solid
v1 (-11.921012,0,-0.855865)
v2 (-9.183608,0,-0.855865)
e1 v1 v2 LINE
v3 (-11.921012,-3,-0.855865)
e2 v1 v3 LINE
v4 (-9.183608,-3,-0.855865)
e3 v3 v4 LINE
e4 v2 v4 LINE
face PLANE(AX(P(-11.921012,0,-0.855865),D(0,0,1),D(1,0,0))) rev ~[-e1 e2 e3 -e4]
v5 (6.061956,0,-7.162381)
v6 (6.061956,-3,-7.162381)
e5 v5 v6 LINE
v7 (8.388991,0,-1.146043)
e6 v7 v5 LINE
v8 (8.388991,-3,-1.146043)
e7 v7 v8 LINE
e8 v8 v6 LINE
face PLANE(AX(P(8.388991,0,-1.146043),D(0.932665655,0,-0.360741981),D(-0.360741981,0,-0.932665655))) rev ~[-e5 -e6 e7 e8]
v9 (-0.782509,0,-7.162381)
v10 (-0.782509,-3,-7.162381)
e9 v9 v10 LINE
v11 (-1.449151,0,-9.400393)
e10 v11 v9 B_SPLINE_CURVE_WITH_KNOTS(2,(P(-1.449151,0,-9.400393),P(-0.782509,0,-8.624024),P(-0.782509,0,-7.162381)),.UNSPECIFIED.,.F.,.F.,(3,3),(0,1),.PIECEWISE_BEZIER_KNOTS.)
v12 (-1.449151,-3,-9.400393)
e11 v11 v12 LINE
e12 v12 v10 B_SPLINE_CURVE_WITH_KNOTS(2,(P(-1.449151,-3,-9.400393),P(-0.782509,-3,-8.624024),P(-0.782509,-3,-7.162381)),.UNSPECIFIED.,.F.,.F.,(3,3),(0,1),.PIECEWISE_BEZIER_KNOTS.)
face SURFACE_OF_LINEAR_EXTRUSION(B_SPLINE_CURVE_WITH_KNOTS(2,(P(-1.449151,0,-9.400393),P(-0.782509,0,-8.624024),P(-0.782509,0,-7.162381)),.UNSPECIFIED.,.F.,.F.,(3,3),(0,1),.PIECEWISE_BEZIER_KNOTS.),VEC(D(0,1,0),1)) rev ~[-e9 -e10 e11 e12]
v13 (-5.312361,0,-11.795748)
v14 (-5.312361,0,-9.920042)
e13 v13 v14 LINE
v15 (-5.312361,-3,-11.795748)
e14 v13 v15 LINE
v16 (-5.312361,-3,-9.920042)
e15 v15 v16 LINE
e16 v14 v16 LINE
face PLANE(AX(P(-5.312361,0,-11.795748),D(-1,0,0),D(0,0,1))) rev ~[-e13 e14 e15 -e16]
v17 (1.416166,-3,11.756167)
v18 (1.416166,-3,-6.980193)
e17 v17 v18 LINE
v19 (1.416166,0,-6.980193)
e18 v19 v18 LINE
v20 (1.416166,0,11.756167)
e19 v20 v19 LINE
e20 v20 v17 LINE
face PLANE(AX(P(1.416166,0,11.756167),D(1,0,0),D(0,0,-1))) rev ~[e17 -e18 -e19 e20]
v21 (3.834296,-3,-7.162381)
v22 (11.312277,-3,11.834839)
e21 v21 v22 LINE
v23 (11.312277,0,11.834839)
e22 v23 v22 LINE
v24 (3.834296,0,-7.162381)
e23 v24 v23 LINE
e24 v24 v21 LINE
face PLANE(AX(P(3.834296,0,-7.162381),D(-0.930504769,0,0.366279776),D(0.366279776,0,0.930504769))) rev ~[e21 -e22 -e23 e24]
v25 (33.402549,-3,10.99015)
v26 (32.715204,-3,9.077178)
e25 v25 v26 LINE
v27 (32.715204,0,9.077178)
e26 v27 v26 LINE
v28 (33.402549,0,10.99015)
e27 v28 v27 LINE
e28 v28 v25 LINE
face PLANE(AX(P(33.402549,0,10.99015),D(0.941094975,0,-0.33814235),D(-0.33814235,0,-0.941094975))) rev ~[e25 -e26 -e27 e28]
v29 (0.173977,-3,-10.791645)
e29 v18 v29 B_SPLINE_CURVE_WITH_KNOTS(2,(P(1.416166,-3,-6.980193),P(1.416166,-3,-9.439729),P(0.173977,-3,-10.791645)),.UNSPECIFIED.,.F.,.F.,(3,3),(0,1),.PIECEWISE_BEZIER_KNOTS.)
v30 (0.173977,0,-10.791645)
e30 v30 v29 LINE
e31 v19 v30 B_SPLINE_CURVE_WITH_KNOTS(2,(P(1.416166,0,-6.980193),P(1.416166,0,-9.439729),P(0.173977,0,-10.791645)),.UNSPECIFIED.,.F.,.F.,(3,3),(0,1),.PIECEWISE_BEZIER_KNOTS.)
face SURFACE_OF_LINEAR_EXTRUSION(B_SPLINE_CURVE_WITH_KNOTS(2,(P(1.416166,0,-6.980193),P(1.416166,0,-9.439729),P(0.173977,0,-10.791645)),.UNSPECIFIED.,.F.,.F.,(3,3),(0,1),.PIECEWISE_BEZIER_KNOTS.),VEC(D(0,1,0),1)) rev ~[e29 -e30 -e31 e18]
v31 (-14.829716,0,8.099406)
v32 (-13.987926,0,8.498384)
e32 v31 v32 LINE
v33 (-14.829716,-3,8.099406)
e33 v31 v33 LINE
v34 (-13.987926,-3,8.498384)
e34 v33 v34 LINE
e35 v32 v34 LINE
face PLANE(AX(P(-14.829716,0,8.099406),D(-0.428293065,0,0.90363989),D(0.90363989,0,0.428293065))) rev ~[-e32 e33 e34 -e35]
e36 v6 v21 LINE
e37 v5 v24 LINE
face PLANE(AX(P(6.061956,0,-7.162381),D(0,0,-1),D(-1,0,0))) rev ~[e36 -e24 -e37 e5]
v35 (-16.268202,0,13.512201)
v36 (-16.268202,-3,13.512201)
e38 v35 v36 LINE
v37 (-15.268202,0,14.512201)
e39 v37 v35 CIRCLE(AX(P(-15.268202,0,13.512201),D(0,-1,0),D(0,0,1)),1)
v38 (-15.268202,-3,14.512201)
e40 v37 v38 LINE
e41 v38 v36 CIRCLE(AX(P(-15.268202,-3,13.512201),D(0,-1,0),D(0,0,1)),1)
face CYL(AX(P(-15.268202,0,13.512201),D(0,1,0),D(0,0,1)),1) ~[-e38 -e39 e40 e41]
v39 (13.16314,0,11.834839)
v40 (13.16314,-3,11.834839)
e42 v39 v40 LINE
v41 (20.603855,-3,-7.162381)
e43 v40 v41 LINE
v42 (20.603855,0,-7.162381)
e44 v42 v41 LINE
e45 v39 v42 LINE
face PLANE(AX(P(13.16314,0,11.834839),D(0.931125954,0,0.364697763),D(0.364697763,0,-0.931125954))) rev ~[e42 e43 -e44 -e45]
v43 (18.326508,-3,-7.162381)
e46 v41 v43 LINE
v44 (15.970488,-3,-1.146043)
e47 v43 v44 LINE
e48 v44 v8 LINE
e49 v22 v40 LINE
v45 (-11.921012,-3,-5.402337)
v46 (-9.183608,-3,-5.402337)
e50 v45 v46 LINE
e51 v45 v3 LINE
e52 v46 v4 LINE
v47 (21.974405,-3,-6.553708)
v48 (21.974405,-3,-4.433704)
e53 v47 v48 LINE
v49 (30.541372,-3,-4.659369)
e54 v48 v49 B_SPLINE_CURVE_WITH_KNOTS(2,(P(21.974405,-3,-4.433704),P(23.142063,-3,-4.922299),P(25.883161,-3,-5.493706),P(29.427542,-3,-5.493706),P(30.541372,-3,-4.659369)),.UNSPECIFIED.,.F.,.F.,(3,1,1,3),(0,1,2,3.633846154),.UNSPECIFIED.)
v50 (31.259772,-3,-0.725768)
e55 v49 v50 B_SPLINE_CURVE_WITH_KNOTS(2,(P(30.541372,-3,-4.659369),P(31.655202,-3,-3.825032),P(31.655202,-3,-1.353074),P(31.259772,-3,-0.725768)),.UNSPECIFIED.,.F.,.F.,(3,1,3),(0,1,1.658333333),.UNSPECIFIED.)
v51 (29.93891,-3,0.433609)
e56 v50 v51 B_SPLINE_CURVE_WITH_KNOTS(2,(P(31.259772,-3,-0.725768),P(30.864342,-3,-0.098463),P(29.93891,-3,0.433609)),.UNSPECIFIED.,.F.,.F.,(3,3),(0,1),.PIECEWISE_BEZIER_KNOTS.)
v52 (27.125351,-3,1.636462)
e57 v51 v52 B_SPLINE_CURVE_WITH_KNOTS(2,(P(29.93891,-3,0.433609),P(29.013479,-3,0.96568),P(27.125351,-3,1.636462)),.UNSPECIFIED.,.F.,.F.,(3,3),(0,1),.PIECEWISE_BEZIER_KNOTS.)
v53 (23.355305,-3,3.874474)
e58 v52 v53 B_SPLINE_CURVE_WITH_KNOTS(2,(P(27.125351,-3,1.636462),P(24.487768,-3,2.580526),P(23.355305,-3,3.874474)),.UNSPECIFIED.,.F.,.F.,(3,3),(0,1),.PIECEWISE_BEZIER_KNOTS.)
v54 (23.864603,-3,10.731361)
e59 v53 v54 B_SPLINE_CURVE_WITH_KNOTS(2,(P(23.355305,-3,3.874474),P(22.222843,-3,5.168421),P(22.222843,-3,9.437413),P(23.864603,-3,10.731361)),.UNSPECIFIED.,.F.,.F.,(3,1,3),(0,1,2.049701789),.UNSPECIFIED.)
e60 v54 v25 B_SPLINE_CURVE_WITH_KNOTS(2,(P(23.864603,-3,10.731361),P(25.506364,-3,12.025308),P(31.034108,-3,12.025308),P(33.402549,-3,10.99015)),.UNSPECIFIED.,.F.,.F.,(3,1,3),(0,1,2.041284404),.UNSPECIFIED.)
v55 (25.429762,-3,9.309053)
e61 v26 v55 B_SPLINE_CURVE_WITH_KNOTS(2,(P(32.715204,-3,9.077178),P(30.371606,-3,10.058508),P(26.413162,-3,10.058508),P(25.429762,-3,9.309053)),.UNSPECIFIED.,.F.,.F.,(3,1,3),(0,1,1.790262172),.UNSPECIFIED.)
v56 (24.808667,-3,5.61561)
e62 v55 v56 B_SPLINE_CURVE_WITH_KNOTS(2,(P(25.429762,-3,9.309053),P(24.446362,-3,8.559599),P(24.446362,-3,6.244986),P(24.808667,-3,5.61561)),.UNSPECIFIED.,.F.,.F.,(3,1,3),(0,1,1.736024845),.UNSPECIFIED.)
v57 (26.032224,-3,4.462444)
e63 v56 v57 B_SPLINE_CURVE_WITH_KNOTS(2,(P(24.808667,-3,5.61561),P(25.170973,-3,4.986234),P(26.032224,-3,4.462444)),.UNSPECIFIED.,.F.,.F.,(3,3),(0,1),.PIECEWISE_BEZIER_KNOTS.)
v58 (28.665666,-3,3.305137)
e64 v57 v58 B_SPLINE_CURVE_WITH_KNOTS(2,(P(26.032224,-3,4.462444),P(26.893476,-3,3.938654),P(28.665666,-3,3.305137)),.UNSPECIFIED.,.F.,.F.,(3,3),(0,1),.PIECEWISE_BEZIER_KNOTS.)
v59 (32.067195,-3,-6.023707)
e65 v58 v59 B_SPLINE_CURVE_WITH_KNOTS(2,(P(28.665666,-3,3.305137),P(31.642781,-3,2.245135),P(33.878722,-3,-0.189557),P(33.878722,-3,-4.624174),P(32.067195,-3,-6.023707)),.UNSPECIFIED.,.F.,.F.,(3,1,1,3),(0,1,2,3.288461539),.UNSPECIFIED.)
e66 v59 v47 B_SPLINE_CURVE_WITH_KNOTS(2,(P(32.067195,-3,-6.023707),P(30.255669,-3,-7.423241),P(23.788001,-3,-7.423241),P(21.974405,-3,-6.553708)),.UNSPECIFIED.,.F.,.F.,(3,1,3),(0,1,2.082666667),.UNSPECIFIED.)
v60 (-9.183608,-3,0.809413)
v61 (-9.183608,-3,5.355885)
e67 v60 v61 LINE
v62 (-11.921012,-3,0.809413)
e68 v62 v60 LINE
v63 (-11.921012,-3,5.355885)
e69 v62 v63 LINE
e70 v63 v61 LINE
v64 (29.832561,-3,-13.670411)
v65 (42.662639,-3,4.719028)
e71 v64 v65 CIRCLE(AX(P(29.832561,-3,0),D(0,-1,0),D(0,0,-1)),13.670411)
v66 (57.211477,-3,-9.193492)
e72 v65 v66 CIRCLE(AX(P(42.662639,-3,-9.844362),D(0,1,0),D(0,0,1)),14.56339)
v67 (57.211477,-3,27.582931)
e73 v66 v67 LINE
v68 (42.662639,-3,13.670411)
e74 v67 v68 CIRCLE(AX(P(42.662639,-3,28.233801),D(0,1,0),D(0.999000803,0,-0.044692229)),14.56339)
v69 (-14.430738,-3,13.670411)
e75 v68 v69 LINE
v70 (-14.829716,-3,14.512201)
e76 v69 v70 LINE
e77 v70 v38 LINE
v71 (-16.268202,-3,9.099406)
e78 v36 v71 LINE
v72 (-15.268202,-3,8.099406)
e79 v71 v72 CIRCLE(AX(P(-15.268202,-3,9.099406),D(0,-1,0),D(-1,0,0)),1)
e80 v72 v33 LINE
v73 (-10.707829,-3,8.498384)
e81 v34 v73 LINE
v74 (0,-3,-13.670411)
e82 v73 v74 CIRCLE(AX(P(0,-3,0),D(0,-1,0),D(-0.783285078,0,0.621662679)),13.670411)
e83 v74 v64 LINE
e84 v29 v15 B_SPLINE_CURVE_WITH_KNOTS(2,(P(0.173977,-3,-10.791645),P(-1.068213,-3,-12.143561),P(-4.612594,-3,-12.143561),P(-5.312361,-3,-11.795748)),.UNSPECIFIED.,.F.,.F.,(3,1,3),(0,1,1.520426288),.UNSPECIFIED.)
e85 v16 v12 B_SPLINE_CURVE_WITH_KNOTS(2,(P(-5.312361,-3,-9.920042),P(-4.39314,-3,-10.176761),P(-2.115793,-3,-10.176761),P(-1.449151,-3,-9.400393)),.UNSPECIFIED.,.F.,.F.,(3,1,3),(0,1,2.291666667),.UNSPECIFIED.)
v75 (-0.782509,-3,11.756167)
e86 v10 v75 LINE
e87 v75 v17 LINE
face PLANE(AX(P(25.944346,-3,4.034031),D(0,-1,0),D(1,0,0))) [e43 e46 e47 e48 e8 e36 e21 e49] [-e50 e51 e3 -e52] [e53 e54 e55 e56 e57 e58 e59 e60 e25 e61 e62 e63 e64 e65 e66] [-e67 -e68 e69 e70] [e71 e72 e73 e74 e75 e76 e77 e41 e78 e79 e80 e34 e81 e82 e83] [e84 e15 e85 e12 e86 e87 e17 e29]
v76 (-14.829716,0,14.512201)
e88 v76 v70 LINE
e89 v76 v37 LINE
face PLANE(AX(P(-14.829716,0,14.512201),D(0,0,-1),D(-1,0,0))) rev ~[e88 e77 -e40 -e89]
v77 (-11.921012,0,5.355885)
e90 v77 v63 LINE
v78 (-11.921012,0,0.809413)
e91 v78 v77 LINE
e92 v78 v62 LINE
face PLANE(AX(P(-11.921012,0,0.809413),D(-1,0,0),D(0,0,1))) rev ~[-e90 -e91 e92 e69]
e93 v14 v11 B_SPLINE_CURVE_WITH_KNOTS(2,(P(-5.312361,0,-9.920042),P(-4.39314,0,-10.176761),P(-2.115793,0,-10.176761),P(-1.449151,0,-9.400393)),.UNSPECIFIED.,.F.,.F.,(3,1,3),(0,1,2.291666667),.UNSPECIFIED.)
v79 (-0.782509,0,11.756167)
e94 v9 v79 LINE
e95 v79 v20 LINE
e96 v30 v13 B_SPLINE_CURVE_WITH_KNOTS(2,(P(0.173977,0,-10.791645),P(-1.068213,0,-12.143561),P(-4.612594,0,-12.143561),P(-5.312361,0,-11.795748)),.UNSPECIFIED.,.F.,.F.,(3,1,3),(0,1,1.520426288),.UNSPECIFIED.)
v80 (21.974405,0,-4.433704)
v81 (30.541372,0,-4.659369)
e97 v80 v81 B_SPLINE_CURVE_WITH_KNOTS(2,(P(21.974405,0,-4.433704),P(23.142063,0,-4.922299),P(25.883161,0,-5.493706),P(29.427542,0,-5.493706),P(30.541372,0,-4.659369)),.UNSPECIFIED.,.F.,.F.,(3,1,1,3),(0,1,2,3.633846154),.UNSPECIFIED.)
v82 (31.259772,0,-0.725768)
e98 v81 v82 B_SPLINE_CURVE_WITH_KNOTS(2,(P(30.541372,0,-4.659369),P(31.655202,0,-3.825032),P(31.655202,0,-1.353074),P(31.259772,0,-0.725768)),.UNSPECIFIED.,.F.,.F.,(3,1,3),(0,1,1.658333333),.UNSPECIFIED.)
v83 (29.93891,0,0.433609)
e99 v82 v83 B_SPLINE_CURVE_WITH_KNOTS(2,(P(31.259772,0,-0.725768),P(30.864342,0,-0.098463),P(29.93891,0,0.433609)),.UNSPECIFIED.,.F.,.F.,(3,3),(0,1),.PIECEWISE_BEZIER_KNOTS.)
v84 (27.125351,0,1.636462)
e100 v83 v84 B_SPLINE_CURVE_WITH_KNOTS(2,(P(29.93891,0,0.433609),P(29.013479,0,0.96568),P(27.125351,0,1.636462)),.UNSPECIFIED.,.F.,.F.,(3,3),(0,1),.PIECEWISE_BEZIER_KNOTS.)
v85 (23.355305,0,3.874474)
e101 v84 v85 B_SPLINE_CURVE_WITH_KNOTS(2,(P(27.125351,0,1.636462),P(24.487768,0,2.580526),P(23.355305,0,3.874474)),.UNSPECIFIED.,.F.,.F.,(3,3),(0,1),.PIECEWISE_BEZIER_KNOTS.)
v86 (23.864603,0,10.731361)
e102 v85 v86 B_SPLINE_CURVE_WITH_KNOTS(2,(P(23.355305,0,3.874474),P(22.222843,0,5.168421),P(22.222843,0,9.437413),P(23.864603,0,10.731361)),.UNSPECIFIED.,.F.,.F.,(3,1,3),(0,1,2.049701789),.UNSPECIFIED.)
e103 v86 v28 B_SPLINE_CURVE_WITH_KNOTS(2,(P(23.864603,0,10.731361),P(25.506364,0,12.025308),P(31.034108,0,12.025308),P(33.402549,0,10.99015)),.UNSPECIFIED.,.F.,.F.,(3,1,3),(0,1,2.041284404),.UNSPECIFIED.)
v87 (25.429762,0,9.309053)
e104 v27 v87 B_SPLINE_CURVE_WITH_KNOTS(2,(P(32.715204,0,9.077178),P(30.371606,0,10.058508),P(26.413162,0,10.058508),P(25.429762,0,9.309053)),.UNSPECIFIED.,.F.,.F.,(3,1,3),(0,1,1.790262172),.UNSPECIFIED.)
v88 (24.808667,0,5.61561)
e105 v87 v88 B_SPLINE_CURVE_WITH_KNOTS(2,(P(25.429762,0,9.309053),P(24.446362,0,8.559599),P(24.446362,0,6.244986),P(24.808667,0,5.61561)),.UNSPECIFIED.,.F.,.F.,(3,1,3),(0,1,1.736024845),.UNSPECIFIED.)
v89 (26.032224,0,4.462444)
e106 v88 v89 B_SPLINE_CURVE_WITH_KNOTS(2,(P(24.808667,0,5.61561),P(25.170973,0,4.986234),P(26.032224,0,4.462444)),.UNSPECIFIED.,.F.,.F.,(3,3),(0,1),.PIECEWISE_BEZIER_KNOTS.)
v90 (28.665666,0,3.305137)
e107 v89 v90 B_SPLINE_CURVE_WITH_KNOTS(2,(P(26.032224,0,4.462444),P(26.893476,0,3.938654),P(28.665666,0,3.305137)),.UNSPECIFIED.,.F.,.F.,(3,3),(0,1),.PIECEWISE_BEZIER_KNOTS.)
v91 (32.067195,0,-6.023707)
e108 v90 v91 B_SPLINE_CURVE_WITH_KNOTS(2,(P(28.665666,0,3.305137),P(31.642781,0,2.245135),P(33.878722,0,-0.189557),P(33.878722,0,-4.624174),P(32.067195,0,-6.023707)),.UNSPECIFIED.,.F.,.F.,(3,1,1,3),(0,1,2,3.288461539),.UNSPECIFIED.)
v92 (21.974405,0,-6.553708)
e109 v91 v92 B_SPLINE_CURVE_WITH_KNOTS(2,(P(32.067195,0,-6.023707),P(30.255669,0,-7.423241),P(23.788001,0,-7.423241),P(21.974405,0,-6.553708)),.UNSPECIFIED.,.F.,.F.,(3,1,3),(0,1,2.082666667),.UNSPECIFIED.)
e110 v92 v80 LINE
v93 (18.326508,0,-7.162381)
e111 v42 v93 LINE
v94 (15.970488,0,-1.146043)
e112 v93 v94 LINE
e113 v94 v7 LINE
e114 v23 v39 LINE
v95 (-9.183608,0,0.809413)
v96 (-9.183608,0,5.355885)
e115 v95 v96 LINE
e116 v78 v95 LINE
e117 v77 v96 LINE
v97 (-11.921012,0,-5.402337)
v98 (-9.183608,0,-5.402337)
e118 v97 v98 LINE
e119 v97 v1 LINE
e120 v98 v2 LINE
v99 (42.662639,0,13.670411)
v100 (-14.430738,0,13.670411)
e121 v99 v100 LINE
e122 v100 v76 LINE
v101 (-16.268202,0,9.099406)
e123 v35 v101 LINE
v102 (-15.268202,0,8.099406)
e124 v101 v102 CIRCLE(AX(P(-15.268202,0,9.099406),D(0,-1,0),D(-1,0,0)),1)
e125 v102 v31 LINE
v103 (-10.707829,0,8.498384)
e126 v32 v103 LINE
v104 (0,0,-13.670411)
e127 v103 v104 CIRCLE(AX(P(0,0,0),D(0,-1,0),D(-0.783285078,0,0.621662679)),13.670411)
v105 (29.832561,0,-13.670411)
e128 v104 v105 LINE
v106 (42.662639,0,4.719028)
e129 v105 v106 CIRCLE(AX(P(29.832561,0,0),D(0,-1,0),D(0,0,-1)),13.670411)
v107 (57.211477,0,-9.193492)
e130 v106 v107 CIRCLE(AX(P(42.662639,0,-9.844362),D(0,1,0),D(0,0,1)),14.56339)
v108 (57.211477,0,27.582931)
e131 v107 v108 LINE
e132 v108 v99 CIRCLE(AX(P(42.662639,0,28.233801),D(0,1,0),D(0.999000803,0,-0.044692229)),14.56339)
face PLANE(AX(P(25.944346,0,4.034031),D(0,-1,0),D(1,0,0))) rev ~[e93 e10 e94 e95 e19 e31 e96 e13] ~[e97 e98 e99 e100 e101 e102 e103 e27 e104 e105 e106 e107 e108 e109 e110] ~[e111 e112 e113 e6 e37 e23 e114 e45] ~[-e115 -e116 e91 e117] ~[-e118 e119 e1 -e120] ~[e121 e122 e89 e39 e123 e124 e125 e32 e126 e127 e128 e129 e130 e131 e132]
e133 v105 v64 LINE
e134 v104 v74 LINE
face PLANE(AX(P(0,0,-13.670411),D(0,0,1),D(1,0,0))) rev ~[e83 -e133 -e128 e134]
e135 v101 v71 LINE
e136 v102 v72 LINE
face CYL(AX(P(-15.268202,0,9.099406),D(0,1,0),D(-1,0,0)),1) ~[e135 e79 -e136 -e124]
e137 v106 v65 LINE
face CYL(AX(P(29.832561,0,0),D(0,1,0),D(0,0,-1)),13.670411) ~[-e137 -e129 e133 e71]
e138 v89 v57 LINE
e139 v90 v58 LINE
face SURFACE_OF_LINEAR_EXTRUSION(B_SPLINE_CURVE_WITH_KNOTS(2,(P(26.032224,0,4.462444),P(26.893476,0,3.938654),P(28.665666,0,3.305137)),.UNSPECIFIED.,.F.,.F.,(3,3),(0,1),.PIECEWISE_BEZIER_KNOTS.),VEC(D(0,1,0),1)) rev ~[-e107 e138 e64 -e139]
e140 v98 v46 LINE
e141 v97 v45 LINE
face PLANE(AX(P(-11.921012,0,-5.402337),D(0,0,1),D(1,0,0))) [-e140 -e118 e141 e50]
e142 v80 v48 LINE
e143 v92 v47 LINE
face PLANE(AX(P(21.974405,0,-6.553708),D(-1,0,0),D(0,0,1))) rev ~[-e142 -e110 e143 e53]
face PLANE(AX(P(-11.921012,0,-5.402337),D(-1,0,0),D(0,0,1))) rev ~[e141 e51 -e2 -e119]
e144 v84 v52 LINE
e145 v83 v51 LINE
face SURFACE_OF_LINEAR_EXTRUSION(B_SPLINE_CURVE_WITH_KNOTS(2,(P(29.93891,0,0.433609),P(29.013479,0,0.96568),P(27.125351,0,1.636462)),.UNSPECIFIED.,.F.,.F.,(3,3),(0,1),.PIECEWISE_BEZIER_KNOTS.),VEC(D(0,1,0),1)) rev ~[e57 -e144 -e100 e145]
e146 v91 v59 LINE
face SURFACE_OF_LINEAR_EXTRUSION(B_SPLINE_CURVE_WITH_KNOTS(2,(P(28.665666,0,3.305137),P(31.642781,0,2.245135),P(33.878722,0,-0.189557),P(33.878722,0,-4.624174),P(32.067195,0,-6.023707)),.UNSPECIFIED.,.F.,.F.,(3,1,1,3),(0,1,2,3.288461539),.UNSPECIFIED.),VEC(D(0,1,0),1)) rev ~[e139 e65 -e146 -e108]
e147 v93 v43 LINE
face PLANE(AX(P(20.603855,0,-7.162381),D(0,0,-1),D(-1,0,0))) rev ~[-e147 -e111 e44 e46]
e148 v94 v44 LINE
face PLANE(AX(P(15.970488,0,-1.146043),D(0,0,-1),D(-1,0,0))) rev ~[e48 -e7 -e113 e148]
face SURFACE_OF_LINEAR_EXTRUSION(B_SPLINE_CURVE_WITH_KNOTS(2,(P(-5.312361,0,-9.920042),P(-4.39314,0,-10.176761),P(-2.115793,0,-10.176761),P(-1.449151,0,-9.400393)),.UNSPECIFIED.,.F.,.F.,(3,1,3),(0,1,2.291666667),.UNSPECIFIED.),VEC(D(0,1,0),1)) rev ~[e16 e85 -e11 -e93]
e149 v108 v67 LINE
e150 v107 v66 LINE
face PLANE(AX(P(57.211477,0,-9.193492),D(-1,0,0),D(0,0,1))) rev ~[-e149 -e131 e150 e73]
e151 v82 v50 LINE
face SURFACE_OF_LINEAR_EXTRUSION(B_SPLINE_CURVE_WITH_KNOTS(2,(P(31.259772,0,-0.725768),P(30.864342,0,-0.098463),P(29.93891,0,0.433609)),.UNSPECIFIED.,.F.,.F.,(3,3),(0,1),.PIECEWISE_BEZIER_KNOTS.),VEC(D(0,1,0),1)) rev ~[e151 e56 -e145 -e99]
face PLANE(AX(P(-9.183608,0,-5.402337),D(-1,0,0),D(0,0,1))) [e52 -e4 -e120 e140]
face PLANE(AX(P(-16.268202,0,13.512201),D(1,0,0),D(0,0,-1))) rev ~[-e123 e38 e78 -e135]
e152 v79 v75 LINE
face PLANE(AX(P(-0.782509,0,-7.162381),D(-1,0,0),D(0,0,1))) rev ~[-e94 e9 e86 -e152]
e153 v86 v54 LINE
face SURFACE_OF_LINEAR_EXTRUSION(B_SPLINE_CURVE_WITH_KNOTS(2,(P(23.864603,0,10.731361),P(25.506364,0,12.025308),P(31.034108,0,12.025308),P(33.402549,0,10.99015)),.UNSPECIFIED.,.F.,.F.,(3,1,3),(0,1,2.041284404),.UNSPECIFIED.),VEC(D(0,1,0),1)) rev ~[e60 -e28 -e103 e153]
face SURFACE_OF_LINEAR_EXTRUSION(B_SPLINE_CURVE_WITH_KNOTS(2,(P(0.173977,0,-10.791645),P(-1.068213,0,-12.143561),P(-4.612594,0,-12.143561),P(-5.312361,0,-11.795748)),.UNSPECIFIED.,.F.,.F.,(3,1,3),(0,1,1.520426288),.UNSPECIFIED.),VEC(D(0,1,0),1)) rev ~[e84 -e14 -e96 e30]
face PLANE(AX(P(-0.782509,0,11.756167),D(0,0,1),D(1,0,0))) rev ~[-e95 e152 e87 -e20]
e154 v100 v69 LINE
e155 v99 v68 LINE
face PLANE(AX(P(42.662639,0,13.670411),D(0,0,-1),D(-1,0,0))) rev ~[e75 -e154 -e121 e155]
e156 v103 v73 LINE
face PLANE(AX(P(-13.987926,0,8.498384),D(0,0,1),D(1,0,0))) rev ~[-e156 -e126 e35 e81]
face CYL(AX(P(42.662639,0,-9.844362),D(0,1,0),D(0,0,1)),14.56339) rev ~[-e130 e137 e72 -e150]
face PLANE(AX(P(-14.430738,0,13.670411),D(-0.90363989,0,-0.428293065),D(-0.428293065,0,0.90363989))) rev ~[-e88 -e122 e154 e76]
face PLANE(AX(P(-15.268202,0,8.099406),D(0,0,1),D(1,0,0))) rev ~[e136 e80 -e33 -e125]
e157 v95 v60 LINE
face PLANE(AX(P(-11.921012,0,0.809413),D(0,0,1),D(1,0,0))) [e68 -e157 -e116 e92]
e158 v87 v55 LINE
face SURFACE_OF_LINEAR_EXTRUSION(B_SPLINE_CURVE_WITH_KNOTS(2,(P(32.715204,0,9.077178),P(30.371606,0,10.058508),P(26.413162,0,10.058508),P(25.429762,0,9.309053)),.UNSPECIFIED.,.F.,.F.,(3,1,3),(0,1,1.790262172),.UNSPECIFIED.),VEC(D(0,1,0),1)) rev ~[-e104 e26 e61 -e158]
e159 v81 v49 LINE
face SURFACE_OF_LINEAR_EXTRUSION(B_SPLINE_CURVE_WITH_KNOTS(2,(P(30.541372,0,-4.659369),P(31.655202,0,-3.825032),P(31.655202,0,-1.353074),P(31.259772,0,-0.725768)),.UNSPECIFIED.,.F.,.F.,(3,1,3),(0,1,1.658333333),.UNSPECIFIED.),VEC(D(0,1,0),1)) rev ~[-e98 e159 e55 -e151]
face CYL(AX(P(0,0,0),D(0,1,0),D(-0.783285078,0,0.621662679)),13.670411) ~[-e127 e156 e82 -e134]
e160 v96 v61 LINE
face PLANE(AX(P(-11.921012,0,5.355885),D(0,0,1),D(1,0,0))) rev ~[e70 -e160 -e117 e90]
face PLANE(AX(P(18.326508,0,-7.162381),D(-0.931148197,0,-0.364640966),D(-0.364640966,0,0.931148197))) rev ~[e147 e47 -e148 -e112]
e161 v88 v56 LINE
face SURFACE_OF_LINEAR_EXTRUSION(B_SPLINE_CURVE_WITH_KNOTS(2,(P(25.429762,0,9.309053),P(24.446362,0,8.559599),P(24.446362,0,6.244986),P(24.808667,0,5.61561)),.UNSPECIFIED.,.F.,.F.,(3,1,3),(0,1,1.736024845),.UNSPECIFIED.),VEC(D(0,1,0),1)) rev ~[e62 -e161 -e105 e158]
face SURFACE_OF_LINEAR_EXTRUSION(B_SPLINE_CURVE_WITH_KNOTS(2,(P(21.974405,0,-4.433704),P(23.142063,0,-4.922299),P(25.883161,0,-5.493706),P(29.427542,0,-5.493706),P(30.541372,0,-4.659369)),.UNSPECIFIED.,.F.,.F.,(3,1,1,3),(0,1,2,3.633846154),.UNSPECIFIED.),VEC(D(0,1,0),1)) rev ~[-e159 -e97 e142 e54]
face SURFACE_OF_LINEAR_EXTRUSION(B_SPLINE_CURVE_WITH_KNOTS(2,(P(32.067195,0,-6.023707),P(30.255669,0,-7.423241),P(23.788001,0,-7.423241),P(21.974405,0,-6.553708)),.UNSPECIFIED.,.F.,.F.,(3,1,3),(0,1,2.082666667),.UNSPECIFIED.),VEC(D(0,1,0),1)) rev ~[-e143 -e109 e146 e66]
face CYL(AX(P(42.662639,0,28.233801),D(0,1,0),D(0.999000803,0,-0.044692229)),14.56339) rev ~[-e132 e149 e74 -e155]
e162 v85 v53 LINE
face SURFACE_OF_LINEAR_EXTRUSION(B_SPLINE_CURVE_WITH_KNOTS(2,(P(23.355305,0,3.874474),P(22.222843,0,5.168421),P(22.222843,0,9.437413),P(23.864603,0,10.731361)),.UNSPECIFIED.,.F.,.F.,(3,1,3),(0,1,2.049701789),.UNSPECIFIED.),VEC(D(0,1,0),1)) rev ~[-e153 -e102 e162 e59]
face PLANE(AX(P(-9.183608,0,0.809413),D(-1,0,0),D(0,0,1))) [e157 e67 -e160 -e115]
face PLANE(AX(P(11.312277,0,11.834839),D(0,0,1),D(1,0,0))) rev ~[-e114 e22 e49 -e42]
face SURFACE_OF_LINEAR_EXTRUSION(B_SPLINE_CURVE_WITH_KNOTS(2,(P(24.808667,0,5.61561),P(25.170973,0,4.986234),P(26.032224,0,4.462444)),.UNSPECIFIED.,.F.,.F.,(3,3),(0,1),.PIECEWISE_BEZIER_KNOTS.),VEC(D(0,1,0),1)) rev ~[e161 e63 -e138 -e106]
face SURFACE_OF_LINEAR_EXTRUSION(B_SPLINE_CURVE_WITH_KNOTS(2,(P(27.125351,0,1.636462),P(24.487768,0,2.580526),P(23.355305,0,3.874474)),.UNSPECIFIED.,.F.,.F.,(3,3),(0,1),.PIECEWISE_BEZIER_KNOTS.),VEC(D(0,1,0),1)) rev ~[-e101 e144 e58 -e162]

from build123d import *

# Parameters (mm, degrees)
F0_W     = 2.7374038473
F0_H     = 4.5464726281
F1_DEPTH = 3


with BuildPart() as f1:
    # F0 (on Front) → F1 (new body)
    with BuildSketch(Plane.XZ):
        with BuildLine():
            Line((-13.9879264009, 8.4983842463), (-10.7078288449, 8.4983842463))
            ThreePointArc((-10.7078288449, 8.4983842463), (-12.3096819162, -5.9457433928), (0, -13.6704108706))
            Line((0, -13.6704108706), (29.832560569, -13.6704108706))
            ThreePointArc((29.832560569, -13.6704108706), (41.0439649972, -7.8220549805), (42.6626390029, 4.7190275219))
            ThreePointArc((42.6626390029, 4.7190275219), (52.7277631814, 0.6811115523), (57.2114773095, -9.193492122))
            Line((57.2114773095, -9.193492122), (57.2114773095, 27.5829305145))
            ThreePointArc((57.2114773095, 27.5829305145), (52.7277631814, 17.7083268402), (42.6626390029, 13.6704108706))
            Line((42.6626390029, 13.6704108706), (29.832560569, 13.6704108706))
            Line((29.832560569, 13.6704108706), (0, 13.6704108706))
            Line((0, 13.6704108706), (-14.4307379611, 13.6704108706))
            Line((-14.4307379611, 13.6704108706), (-14.8297163701, 14.5122008398))
            Line((-14.8297163701, 14.5122008398), (-15.268201828, 14.5122008398))
            ThreePointArc((-15.268201828, 14.5122008398), (-15.9753086092, 14.219307621), (-16.268201828, 13.5122008398))
            Line((-16.268201828, 13.5122008398), (-16.268201828, 9.0994058373))
            ThreePointArc((-16.268201828, 9.0994058373), (-15.9753086092, 8.3922990562), (-15.268201828, 8.0994058373))
            Line((-15.268201828, 8.0994058373), (-14.8297163701, 8.0994058373))
            Line((-14.8297163701, 8.0994058373), (-13.9879264009, 8.4983842463))
        make_face()
        with Locations((-10.5523099191, -3.12910098)):
            Rectangle(F0_W, F0_H, mode=Mode.SUBTRACT)
        with BuildLine():
            add(Edge.make_bspline(
                [(0.173976751, -10.791644976), (-1.0682128711, -12.1435613479), (-3.3993887284, -12.1435613479)],
                knots=[0, 0, 0, 1, 1, 1], degree=2))
            add(Edge.make_bspline(
                [(-3.3993887284, -12.1435613479), (-4.6125939259, -12.1435613479), (-5.3123607464, -11.7957482538)],
                knots=[0, 0, 0, 1, 1, 1], degree=2))
            Line((-5.3123607464, -11.7957482538), (-5.3123607464, -9.9200419245))
            add(Edge.make_bspline(
                [(-5.3123607464, -9.9200419245), (-4.393140426, -10.176761113), (-3.3993887284, -10.176761113)],
                knots=[0, 0, 0, 1, 1, 1], degree=2))
            add(Edge.make_bspline(
                [(-3.3993887284, -10.176761113), (-2.1157927856, -10.176761113), (-1.4491510218, -9.4003925993)],
                knots=[0, 0, 0, 1, 1, 1], degree=2))
            add(Edge.make_bspline(
                [(-1.4491510218, -9.4003925993), (-0.782509258, -8.6240240855), (-0.782509258, -7.1623809636)],
                knots=[0, 0, 0, 1, 1, 1], degree=2))
            Line((-0.782509258, -7.1623809636), (-0.782509258, 11.7561669801))
            Line((-0.782509258, 11.7561669801), (1.416166373, 11.7561669801))
            Line((1.416166373, 11.7561669801), (1.416166373, -6.9801931523))
            add(Edge.make_bspline(
                [(1.416166373, -6.9801931523), (1.416166373, -9.439728604), (0.173976751, -10.791644976)],
                knots=[0, 0, 0, 1, 1, 1], degree=2))
        make_face(mode=Mode.SUBTRACT)
        with Locations((-10.5523099191, 3.0826488801)):
            Rectangle(F0_W, F0_H, mode=Mode.SUBTRACT)
        Polygon((20.6038554014, -7.1623809636), (18.326507761, -7.1623809636), (15.9704881112, -1.1460425608), (8.3889907847, -1.1460425608), (6.0619555594, -7.1623809636), (3.8342955039, -7.1623809636), (11.3122770286, 11.8348389895), (13.1631395654, 11.8348389895), align=None, mode=Mode.SUBTRACT)
        with BuildLine():
            add(Edge.make_bspline(
                [(32.7607511691, 1.0277892777), (33.8787218289, -0.1895565519), (33.8787218289, -2.1273723622)],
                knots=[0, 0, 0, 1, 1, 1], degree=2))
            add(Edge.make_bspline(
                [(33.8787218289, -2.1273723622), (33.8787218289, -4.6241735025), (32.0671952968, -6.0237071434)],
                knots=[0, 0, 0, 1, 1, 1], degree=2))
            add(Edge.make_bspline(
                [(32.0671952968, -6.0237071434), (30.2556687647, -7.4232407842), (27.1501947096, -7.4232407842)],
                knots=[0, 0, 0, 1, 1, 1], degree=2))
            add(Edge.make_bspline(
                [(27.1501947096, -7.4232407842), (23.7880014659, -7.4232407842), (21.9744046177, -6.5537080488)],
                knots=[0, 0, 0, 1, 1, 1], degree=2))
            Line((21.9744046177, -6.5537080488), (21.9744046177, -4.4337044272))
            add(Edge.make_bspline(
                [(21.9744046177, -4.4337044272), (23.1420628625, -4.9222990118), (24.5126120788, -5.2080026249)],
                knots=[0, 0, 0, 1, 1, 1], degree=2))
            add(Edge.make_bspline(
                [(24.5126120788, -5.2080026249), (25.8831612951, -5.493706238), (27.228866719, -5.493706238)],
                knots=[0, 0, 0, 1, 1, 1], degree=2))
            add(Edge.make_bspline(
                [(27.228866719, -5.493706238), (29.42754235, -5.493706238), (30.5413723777, -4.6593688752)],
                knots=[0, 0, 0, 1, 1, 1], degree=2))
            add(Edge.make_bspline(
                [(30.5413723777, -4.6593688752), (31.6552024055, -3.8250315124), (31.6552024055, -2.3344039659)],
                knots=[0, 0, 0, 1, 1, 1], degree=2))
            add(Edge.make_bspline(
                [(31.6552024055, -2.3344039659), (31.6552024055, -1.3530741645), (31.2597720425, -0.7257684054)],
                knots=[0, 0, 0, 1, 1, 1], degree=2))
            add(Edge.make_bspline(
                [(31.2597720425, -0.7257684054), (30.8643416795, -0.0984626462), (29.938910411, 0.4336085752)],
                knots=[0, 0, 0, 1, 1, 1], degree=2))
            add(Edge.make_bspline(
                [(29.938910411, 0.4336085752), (29.0134791426, 0.9656797966), (27.1253509171, 1.6364621925)],
                knots=[0, 0, 0, 1, 1, 1], degree=2))
            add(Edge.make_bspline(
                [(27.1253509171, 1.6364621925), (24.4877682863, 2.5805263053), (23.3553054142, 3.8744738282)],
                knots=[0, 0, 0, 1, 1, 1], degree=2))
            add(Edge.make_bspline(
                [(23.3553054142, 3.8744738282), (22.2228425422, 5.1684213512), (22.2228425422, 7.2511592841)],
                knots=[0, 0, 0, 1, 1, 1], degree=2))
            add(Edge.make_bspline(
                [(22.2228425422, 7.2511592841), (22.2228425422, 9.4374130189), (23.8646031593, 10.7313605419)],
                knots=[0, 0, 0, 1, 1, 1], degree=2))
            add(Edge.make_bspline(
                [(23.8646031593, 10.7313605419), (25.5063637764, 12.0253080648), (28.2143371524, 12.0253080648)],
                knots=[0, 0, 0, 1, 1, 1], degree=2))
            add(Edge.make_bspline(
                [(28.2143371524, 12.0253080648), (31.0341075945, 12.0253080648), (33.4025491405, 10.9901500465)],
                knots=[0, 0, 0, 1, 1, 1], degree=2))
            Line((33.4025491405, 10.9901500465), (32.7152042163, 9.0771780285))
            add(Edge.make_bspline(
                [(32.7152042163, 9.0771780285), (30.3716064627, 10.05850783), (28.1605089355, 10.05850783)],
                knots=[0, 0, 0, 1, 1, 1], degree=2))
            add(Edge.make_bspline(
                [(28.1605089355, 10.05850783), (26.4131622005, 10.05850783), (25.429762083, 9.3090534247)],
                knots=[0, 0, 0, 1, 1, 1], degree=2))
            add(Edge.make_bspline(
                [(25.429762083, 9.3090534247), (24.4463619656, 8.5595990194), (24.4463619656, 7.2263154917)],
                knots=[0, 0, 0, 1, 1, 1], degree=2))
            add(Edge.make_bspline(
                [(24.4463619656, 7.2263154917), (24.4463619656, 6.2449856903), (24.808667272, 5.6156096151)],
                knots=[0, 0, 0, 1, 1, 1], degree=2))
            add(Edge.make_bspline(
                [(24.808667272, 5.6156096151), (25.1709725785, 4.98623354), (26.0322240497, 4.4624435827)],
                knots=[0, 0, 0, 1, 1, 1], degree=2))
            add(Edge.make_bspline(
                [(26.0322240497, 4.4624435827), (26.893475521, 3.9386536254), (28.6656660485, 3.3051369181)],
                knots=[0, 0, 0, 1, 1, 1], degree=2))
            add(Edge.make_bspline(
                [(28.6656660485, 3.3051369181), (31.6427805093, 2.2451351073), (32.7607511691, 1.0277892777)],
                knots=[0, 0, 0, 1, 1, 1], degree=2))
        make_face(mode=Mode.SUBTRACT)
    extrude(amount=F1_DEPTH)


solid = f1.part
